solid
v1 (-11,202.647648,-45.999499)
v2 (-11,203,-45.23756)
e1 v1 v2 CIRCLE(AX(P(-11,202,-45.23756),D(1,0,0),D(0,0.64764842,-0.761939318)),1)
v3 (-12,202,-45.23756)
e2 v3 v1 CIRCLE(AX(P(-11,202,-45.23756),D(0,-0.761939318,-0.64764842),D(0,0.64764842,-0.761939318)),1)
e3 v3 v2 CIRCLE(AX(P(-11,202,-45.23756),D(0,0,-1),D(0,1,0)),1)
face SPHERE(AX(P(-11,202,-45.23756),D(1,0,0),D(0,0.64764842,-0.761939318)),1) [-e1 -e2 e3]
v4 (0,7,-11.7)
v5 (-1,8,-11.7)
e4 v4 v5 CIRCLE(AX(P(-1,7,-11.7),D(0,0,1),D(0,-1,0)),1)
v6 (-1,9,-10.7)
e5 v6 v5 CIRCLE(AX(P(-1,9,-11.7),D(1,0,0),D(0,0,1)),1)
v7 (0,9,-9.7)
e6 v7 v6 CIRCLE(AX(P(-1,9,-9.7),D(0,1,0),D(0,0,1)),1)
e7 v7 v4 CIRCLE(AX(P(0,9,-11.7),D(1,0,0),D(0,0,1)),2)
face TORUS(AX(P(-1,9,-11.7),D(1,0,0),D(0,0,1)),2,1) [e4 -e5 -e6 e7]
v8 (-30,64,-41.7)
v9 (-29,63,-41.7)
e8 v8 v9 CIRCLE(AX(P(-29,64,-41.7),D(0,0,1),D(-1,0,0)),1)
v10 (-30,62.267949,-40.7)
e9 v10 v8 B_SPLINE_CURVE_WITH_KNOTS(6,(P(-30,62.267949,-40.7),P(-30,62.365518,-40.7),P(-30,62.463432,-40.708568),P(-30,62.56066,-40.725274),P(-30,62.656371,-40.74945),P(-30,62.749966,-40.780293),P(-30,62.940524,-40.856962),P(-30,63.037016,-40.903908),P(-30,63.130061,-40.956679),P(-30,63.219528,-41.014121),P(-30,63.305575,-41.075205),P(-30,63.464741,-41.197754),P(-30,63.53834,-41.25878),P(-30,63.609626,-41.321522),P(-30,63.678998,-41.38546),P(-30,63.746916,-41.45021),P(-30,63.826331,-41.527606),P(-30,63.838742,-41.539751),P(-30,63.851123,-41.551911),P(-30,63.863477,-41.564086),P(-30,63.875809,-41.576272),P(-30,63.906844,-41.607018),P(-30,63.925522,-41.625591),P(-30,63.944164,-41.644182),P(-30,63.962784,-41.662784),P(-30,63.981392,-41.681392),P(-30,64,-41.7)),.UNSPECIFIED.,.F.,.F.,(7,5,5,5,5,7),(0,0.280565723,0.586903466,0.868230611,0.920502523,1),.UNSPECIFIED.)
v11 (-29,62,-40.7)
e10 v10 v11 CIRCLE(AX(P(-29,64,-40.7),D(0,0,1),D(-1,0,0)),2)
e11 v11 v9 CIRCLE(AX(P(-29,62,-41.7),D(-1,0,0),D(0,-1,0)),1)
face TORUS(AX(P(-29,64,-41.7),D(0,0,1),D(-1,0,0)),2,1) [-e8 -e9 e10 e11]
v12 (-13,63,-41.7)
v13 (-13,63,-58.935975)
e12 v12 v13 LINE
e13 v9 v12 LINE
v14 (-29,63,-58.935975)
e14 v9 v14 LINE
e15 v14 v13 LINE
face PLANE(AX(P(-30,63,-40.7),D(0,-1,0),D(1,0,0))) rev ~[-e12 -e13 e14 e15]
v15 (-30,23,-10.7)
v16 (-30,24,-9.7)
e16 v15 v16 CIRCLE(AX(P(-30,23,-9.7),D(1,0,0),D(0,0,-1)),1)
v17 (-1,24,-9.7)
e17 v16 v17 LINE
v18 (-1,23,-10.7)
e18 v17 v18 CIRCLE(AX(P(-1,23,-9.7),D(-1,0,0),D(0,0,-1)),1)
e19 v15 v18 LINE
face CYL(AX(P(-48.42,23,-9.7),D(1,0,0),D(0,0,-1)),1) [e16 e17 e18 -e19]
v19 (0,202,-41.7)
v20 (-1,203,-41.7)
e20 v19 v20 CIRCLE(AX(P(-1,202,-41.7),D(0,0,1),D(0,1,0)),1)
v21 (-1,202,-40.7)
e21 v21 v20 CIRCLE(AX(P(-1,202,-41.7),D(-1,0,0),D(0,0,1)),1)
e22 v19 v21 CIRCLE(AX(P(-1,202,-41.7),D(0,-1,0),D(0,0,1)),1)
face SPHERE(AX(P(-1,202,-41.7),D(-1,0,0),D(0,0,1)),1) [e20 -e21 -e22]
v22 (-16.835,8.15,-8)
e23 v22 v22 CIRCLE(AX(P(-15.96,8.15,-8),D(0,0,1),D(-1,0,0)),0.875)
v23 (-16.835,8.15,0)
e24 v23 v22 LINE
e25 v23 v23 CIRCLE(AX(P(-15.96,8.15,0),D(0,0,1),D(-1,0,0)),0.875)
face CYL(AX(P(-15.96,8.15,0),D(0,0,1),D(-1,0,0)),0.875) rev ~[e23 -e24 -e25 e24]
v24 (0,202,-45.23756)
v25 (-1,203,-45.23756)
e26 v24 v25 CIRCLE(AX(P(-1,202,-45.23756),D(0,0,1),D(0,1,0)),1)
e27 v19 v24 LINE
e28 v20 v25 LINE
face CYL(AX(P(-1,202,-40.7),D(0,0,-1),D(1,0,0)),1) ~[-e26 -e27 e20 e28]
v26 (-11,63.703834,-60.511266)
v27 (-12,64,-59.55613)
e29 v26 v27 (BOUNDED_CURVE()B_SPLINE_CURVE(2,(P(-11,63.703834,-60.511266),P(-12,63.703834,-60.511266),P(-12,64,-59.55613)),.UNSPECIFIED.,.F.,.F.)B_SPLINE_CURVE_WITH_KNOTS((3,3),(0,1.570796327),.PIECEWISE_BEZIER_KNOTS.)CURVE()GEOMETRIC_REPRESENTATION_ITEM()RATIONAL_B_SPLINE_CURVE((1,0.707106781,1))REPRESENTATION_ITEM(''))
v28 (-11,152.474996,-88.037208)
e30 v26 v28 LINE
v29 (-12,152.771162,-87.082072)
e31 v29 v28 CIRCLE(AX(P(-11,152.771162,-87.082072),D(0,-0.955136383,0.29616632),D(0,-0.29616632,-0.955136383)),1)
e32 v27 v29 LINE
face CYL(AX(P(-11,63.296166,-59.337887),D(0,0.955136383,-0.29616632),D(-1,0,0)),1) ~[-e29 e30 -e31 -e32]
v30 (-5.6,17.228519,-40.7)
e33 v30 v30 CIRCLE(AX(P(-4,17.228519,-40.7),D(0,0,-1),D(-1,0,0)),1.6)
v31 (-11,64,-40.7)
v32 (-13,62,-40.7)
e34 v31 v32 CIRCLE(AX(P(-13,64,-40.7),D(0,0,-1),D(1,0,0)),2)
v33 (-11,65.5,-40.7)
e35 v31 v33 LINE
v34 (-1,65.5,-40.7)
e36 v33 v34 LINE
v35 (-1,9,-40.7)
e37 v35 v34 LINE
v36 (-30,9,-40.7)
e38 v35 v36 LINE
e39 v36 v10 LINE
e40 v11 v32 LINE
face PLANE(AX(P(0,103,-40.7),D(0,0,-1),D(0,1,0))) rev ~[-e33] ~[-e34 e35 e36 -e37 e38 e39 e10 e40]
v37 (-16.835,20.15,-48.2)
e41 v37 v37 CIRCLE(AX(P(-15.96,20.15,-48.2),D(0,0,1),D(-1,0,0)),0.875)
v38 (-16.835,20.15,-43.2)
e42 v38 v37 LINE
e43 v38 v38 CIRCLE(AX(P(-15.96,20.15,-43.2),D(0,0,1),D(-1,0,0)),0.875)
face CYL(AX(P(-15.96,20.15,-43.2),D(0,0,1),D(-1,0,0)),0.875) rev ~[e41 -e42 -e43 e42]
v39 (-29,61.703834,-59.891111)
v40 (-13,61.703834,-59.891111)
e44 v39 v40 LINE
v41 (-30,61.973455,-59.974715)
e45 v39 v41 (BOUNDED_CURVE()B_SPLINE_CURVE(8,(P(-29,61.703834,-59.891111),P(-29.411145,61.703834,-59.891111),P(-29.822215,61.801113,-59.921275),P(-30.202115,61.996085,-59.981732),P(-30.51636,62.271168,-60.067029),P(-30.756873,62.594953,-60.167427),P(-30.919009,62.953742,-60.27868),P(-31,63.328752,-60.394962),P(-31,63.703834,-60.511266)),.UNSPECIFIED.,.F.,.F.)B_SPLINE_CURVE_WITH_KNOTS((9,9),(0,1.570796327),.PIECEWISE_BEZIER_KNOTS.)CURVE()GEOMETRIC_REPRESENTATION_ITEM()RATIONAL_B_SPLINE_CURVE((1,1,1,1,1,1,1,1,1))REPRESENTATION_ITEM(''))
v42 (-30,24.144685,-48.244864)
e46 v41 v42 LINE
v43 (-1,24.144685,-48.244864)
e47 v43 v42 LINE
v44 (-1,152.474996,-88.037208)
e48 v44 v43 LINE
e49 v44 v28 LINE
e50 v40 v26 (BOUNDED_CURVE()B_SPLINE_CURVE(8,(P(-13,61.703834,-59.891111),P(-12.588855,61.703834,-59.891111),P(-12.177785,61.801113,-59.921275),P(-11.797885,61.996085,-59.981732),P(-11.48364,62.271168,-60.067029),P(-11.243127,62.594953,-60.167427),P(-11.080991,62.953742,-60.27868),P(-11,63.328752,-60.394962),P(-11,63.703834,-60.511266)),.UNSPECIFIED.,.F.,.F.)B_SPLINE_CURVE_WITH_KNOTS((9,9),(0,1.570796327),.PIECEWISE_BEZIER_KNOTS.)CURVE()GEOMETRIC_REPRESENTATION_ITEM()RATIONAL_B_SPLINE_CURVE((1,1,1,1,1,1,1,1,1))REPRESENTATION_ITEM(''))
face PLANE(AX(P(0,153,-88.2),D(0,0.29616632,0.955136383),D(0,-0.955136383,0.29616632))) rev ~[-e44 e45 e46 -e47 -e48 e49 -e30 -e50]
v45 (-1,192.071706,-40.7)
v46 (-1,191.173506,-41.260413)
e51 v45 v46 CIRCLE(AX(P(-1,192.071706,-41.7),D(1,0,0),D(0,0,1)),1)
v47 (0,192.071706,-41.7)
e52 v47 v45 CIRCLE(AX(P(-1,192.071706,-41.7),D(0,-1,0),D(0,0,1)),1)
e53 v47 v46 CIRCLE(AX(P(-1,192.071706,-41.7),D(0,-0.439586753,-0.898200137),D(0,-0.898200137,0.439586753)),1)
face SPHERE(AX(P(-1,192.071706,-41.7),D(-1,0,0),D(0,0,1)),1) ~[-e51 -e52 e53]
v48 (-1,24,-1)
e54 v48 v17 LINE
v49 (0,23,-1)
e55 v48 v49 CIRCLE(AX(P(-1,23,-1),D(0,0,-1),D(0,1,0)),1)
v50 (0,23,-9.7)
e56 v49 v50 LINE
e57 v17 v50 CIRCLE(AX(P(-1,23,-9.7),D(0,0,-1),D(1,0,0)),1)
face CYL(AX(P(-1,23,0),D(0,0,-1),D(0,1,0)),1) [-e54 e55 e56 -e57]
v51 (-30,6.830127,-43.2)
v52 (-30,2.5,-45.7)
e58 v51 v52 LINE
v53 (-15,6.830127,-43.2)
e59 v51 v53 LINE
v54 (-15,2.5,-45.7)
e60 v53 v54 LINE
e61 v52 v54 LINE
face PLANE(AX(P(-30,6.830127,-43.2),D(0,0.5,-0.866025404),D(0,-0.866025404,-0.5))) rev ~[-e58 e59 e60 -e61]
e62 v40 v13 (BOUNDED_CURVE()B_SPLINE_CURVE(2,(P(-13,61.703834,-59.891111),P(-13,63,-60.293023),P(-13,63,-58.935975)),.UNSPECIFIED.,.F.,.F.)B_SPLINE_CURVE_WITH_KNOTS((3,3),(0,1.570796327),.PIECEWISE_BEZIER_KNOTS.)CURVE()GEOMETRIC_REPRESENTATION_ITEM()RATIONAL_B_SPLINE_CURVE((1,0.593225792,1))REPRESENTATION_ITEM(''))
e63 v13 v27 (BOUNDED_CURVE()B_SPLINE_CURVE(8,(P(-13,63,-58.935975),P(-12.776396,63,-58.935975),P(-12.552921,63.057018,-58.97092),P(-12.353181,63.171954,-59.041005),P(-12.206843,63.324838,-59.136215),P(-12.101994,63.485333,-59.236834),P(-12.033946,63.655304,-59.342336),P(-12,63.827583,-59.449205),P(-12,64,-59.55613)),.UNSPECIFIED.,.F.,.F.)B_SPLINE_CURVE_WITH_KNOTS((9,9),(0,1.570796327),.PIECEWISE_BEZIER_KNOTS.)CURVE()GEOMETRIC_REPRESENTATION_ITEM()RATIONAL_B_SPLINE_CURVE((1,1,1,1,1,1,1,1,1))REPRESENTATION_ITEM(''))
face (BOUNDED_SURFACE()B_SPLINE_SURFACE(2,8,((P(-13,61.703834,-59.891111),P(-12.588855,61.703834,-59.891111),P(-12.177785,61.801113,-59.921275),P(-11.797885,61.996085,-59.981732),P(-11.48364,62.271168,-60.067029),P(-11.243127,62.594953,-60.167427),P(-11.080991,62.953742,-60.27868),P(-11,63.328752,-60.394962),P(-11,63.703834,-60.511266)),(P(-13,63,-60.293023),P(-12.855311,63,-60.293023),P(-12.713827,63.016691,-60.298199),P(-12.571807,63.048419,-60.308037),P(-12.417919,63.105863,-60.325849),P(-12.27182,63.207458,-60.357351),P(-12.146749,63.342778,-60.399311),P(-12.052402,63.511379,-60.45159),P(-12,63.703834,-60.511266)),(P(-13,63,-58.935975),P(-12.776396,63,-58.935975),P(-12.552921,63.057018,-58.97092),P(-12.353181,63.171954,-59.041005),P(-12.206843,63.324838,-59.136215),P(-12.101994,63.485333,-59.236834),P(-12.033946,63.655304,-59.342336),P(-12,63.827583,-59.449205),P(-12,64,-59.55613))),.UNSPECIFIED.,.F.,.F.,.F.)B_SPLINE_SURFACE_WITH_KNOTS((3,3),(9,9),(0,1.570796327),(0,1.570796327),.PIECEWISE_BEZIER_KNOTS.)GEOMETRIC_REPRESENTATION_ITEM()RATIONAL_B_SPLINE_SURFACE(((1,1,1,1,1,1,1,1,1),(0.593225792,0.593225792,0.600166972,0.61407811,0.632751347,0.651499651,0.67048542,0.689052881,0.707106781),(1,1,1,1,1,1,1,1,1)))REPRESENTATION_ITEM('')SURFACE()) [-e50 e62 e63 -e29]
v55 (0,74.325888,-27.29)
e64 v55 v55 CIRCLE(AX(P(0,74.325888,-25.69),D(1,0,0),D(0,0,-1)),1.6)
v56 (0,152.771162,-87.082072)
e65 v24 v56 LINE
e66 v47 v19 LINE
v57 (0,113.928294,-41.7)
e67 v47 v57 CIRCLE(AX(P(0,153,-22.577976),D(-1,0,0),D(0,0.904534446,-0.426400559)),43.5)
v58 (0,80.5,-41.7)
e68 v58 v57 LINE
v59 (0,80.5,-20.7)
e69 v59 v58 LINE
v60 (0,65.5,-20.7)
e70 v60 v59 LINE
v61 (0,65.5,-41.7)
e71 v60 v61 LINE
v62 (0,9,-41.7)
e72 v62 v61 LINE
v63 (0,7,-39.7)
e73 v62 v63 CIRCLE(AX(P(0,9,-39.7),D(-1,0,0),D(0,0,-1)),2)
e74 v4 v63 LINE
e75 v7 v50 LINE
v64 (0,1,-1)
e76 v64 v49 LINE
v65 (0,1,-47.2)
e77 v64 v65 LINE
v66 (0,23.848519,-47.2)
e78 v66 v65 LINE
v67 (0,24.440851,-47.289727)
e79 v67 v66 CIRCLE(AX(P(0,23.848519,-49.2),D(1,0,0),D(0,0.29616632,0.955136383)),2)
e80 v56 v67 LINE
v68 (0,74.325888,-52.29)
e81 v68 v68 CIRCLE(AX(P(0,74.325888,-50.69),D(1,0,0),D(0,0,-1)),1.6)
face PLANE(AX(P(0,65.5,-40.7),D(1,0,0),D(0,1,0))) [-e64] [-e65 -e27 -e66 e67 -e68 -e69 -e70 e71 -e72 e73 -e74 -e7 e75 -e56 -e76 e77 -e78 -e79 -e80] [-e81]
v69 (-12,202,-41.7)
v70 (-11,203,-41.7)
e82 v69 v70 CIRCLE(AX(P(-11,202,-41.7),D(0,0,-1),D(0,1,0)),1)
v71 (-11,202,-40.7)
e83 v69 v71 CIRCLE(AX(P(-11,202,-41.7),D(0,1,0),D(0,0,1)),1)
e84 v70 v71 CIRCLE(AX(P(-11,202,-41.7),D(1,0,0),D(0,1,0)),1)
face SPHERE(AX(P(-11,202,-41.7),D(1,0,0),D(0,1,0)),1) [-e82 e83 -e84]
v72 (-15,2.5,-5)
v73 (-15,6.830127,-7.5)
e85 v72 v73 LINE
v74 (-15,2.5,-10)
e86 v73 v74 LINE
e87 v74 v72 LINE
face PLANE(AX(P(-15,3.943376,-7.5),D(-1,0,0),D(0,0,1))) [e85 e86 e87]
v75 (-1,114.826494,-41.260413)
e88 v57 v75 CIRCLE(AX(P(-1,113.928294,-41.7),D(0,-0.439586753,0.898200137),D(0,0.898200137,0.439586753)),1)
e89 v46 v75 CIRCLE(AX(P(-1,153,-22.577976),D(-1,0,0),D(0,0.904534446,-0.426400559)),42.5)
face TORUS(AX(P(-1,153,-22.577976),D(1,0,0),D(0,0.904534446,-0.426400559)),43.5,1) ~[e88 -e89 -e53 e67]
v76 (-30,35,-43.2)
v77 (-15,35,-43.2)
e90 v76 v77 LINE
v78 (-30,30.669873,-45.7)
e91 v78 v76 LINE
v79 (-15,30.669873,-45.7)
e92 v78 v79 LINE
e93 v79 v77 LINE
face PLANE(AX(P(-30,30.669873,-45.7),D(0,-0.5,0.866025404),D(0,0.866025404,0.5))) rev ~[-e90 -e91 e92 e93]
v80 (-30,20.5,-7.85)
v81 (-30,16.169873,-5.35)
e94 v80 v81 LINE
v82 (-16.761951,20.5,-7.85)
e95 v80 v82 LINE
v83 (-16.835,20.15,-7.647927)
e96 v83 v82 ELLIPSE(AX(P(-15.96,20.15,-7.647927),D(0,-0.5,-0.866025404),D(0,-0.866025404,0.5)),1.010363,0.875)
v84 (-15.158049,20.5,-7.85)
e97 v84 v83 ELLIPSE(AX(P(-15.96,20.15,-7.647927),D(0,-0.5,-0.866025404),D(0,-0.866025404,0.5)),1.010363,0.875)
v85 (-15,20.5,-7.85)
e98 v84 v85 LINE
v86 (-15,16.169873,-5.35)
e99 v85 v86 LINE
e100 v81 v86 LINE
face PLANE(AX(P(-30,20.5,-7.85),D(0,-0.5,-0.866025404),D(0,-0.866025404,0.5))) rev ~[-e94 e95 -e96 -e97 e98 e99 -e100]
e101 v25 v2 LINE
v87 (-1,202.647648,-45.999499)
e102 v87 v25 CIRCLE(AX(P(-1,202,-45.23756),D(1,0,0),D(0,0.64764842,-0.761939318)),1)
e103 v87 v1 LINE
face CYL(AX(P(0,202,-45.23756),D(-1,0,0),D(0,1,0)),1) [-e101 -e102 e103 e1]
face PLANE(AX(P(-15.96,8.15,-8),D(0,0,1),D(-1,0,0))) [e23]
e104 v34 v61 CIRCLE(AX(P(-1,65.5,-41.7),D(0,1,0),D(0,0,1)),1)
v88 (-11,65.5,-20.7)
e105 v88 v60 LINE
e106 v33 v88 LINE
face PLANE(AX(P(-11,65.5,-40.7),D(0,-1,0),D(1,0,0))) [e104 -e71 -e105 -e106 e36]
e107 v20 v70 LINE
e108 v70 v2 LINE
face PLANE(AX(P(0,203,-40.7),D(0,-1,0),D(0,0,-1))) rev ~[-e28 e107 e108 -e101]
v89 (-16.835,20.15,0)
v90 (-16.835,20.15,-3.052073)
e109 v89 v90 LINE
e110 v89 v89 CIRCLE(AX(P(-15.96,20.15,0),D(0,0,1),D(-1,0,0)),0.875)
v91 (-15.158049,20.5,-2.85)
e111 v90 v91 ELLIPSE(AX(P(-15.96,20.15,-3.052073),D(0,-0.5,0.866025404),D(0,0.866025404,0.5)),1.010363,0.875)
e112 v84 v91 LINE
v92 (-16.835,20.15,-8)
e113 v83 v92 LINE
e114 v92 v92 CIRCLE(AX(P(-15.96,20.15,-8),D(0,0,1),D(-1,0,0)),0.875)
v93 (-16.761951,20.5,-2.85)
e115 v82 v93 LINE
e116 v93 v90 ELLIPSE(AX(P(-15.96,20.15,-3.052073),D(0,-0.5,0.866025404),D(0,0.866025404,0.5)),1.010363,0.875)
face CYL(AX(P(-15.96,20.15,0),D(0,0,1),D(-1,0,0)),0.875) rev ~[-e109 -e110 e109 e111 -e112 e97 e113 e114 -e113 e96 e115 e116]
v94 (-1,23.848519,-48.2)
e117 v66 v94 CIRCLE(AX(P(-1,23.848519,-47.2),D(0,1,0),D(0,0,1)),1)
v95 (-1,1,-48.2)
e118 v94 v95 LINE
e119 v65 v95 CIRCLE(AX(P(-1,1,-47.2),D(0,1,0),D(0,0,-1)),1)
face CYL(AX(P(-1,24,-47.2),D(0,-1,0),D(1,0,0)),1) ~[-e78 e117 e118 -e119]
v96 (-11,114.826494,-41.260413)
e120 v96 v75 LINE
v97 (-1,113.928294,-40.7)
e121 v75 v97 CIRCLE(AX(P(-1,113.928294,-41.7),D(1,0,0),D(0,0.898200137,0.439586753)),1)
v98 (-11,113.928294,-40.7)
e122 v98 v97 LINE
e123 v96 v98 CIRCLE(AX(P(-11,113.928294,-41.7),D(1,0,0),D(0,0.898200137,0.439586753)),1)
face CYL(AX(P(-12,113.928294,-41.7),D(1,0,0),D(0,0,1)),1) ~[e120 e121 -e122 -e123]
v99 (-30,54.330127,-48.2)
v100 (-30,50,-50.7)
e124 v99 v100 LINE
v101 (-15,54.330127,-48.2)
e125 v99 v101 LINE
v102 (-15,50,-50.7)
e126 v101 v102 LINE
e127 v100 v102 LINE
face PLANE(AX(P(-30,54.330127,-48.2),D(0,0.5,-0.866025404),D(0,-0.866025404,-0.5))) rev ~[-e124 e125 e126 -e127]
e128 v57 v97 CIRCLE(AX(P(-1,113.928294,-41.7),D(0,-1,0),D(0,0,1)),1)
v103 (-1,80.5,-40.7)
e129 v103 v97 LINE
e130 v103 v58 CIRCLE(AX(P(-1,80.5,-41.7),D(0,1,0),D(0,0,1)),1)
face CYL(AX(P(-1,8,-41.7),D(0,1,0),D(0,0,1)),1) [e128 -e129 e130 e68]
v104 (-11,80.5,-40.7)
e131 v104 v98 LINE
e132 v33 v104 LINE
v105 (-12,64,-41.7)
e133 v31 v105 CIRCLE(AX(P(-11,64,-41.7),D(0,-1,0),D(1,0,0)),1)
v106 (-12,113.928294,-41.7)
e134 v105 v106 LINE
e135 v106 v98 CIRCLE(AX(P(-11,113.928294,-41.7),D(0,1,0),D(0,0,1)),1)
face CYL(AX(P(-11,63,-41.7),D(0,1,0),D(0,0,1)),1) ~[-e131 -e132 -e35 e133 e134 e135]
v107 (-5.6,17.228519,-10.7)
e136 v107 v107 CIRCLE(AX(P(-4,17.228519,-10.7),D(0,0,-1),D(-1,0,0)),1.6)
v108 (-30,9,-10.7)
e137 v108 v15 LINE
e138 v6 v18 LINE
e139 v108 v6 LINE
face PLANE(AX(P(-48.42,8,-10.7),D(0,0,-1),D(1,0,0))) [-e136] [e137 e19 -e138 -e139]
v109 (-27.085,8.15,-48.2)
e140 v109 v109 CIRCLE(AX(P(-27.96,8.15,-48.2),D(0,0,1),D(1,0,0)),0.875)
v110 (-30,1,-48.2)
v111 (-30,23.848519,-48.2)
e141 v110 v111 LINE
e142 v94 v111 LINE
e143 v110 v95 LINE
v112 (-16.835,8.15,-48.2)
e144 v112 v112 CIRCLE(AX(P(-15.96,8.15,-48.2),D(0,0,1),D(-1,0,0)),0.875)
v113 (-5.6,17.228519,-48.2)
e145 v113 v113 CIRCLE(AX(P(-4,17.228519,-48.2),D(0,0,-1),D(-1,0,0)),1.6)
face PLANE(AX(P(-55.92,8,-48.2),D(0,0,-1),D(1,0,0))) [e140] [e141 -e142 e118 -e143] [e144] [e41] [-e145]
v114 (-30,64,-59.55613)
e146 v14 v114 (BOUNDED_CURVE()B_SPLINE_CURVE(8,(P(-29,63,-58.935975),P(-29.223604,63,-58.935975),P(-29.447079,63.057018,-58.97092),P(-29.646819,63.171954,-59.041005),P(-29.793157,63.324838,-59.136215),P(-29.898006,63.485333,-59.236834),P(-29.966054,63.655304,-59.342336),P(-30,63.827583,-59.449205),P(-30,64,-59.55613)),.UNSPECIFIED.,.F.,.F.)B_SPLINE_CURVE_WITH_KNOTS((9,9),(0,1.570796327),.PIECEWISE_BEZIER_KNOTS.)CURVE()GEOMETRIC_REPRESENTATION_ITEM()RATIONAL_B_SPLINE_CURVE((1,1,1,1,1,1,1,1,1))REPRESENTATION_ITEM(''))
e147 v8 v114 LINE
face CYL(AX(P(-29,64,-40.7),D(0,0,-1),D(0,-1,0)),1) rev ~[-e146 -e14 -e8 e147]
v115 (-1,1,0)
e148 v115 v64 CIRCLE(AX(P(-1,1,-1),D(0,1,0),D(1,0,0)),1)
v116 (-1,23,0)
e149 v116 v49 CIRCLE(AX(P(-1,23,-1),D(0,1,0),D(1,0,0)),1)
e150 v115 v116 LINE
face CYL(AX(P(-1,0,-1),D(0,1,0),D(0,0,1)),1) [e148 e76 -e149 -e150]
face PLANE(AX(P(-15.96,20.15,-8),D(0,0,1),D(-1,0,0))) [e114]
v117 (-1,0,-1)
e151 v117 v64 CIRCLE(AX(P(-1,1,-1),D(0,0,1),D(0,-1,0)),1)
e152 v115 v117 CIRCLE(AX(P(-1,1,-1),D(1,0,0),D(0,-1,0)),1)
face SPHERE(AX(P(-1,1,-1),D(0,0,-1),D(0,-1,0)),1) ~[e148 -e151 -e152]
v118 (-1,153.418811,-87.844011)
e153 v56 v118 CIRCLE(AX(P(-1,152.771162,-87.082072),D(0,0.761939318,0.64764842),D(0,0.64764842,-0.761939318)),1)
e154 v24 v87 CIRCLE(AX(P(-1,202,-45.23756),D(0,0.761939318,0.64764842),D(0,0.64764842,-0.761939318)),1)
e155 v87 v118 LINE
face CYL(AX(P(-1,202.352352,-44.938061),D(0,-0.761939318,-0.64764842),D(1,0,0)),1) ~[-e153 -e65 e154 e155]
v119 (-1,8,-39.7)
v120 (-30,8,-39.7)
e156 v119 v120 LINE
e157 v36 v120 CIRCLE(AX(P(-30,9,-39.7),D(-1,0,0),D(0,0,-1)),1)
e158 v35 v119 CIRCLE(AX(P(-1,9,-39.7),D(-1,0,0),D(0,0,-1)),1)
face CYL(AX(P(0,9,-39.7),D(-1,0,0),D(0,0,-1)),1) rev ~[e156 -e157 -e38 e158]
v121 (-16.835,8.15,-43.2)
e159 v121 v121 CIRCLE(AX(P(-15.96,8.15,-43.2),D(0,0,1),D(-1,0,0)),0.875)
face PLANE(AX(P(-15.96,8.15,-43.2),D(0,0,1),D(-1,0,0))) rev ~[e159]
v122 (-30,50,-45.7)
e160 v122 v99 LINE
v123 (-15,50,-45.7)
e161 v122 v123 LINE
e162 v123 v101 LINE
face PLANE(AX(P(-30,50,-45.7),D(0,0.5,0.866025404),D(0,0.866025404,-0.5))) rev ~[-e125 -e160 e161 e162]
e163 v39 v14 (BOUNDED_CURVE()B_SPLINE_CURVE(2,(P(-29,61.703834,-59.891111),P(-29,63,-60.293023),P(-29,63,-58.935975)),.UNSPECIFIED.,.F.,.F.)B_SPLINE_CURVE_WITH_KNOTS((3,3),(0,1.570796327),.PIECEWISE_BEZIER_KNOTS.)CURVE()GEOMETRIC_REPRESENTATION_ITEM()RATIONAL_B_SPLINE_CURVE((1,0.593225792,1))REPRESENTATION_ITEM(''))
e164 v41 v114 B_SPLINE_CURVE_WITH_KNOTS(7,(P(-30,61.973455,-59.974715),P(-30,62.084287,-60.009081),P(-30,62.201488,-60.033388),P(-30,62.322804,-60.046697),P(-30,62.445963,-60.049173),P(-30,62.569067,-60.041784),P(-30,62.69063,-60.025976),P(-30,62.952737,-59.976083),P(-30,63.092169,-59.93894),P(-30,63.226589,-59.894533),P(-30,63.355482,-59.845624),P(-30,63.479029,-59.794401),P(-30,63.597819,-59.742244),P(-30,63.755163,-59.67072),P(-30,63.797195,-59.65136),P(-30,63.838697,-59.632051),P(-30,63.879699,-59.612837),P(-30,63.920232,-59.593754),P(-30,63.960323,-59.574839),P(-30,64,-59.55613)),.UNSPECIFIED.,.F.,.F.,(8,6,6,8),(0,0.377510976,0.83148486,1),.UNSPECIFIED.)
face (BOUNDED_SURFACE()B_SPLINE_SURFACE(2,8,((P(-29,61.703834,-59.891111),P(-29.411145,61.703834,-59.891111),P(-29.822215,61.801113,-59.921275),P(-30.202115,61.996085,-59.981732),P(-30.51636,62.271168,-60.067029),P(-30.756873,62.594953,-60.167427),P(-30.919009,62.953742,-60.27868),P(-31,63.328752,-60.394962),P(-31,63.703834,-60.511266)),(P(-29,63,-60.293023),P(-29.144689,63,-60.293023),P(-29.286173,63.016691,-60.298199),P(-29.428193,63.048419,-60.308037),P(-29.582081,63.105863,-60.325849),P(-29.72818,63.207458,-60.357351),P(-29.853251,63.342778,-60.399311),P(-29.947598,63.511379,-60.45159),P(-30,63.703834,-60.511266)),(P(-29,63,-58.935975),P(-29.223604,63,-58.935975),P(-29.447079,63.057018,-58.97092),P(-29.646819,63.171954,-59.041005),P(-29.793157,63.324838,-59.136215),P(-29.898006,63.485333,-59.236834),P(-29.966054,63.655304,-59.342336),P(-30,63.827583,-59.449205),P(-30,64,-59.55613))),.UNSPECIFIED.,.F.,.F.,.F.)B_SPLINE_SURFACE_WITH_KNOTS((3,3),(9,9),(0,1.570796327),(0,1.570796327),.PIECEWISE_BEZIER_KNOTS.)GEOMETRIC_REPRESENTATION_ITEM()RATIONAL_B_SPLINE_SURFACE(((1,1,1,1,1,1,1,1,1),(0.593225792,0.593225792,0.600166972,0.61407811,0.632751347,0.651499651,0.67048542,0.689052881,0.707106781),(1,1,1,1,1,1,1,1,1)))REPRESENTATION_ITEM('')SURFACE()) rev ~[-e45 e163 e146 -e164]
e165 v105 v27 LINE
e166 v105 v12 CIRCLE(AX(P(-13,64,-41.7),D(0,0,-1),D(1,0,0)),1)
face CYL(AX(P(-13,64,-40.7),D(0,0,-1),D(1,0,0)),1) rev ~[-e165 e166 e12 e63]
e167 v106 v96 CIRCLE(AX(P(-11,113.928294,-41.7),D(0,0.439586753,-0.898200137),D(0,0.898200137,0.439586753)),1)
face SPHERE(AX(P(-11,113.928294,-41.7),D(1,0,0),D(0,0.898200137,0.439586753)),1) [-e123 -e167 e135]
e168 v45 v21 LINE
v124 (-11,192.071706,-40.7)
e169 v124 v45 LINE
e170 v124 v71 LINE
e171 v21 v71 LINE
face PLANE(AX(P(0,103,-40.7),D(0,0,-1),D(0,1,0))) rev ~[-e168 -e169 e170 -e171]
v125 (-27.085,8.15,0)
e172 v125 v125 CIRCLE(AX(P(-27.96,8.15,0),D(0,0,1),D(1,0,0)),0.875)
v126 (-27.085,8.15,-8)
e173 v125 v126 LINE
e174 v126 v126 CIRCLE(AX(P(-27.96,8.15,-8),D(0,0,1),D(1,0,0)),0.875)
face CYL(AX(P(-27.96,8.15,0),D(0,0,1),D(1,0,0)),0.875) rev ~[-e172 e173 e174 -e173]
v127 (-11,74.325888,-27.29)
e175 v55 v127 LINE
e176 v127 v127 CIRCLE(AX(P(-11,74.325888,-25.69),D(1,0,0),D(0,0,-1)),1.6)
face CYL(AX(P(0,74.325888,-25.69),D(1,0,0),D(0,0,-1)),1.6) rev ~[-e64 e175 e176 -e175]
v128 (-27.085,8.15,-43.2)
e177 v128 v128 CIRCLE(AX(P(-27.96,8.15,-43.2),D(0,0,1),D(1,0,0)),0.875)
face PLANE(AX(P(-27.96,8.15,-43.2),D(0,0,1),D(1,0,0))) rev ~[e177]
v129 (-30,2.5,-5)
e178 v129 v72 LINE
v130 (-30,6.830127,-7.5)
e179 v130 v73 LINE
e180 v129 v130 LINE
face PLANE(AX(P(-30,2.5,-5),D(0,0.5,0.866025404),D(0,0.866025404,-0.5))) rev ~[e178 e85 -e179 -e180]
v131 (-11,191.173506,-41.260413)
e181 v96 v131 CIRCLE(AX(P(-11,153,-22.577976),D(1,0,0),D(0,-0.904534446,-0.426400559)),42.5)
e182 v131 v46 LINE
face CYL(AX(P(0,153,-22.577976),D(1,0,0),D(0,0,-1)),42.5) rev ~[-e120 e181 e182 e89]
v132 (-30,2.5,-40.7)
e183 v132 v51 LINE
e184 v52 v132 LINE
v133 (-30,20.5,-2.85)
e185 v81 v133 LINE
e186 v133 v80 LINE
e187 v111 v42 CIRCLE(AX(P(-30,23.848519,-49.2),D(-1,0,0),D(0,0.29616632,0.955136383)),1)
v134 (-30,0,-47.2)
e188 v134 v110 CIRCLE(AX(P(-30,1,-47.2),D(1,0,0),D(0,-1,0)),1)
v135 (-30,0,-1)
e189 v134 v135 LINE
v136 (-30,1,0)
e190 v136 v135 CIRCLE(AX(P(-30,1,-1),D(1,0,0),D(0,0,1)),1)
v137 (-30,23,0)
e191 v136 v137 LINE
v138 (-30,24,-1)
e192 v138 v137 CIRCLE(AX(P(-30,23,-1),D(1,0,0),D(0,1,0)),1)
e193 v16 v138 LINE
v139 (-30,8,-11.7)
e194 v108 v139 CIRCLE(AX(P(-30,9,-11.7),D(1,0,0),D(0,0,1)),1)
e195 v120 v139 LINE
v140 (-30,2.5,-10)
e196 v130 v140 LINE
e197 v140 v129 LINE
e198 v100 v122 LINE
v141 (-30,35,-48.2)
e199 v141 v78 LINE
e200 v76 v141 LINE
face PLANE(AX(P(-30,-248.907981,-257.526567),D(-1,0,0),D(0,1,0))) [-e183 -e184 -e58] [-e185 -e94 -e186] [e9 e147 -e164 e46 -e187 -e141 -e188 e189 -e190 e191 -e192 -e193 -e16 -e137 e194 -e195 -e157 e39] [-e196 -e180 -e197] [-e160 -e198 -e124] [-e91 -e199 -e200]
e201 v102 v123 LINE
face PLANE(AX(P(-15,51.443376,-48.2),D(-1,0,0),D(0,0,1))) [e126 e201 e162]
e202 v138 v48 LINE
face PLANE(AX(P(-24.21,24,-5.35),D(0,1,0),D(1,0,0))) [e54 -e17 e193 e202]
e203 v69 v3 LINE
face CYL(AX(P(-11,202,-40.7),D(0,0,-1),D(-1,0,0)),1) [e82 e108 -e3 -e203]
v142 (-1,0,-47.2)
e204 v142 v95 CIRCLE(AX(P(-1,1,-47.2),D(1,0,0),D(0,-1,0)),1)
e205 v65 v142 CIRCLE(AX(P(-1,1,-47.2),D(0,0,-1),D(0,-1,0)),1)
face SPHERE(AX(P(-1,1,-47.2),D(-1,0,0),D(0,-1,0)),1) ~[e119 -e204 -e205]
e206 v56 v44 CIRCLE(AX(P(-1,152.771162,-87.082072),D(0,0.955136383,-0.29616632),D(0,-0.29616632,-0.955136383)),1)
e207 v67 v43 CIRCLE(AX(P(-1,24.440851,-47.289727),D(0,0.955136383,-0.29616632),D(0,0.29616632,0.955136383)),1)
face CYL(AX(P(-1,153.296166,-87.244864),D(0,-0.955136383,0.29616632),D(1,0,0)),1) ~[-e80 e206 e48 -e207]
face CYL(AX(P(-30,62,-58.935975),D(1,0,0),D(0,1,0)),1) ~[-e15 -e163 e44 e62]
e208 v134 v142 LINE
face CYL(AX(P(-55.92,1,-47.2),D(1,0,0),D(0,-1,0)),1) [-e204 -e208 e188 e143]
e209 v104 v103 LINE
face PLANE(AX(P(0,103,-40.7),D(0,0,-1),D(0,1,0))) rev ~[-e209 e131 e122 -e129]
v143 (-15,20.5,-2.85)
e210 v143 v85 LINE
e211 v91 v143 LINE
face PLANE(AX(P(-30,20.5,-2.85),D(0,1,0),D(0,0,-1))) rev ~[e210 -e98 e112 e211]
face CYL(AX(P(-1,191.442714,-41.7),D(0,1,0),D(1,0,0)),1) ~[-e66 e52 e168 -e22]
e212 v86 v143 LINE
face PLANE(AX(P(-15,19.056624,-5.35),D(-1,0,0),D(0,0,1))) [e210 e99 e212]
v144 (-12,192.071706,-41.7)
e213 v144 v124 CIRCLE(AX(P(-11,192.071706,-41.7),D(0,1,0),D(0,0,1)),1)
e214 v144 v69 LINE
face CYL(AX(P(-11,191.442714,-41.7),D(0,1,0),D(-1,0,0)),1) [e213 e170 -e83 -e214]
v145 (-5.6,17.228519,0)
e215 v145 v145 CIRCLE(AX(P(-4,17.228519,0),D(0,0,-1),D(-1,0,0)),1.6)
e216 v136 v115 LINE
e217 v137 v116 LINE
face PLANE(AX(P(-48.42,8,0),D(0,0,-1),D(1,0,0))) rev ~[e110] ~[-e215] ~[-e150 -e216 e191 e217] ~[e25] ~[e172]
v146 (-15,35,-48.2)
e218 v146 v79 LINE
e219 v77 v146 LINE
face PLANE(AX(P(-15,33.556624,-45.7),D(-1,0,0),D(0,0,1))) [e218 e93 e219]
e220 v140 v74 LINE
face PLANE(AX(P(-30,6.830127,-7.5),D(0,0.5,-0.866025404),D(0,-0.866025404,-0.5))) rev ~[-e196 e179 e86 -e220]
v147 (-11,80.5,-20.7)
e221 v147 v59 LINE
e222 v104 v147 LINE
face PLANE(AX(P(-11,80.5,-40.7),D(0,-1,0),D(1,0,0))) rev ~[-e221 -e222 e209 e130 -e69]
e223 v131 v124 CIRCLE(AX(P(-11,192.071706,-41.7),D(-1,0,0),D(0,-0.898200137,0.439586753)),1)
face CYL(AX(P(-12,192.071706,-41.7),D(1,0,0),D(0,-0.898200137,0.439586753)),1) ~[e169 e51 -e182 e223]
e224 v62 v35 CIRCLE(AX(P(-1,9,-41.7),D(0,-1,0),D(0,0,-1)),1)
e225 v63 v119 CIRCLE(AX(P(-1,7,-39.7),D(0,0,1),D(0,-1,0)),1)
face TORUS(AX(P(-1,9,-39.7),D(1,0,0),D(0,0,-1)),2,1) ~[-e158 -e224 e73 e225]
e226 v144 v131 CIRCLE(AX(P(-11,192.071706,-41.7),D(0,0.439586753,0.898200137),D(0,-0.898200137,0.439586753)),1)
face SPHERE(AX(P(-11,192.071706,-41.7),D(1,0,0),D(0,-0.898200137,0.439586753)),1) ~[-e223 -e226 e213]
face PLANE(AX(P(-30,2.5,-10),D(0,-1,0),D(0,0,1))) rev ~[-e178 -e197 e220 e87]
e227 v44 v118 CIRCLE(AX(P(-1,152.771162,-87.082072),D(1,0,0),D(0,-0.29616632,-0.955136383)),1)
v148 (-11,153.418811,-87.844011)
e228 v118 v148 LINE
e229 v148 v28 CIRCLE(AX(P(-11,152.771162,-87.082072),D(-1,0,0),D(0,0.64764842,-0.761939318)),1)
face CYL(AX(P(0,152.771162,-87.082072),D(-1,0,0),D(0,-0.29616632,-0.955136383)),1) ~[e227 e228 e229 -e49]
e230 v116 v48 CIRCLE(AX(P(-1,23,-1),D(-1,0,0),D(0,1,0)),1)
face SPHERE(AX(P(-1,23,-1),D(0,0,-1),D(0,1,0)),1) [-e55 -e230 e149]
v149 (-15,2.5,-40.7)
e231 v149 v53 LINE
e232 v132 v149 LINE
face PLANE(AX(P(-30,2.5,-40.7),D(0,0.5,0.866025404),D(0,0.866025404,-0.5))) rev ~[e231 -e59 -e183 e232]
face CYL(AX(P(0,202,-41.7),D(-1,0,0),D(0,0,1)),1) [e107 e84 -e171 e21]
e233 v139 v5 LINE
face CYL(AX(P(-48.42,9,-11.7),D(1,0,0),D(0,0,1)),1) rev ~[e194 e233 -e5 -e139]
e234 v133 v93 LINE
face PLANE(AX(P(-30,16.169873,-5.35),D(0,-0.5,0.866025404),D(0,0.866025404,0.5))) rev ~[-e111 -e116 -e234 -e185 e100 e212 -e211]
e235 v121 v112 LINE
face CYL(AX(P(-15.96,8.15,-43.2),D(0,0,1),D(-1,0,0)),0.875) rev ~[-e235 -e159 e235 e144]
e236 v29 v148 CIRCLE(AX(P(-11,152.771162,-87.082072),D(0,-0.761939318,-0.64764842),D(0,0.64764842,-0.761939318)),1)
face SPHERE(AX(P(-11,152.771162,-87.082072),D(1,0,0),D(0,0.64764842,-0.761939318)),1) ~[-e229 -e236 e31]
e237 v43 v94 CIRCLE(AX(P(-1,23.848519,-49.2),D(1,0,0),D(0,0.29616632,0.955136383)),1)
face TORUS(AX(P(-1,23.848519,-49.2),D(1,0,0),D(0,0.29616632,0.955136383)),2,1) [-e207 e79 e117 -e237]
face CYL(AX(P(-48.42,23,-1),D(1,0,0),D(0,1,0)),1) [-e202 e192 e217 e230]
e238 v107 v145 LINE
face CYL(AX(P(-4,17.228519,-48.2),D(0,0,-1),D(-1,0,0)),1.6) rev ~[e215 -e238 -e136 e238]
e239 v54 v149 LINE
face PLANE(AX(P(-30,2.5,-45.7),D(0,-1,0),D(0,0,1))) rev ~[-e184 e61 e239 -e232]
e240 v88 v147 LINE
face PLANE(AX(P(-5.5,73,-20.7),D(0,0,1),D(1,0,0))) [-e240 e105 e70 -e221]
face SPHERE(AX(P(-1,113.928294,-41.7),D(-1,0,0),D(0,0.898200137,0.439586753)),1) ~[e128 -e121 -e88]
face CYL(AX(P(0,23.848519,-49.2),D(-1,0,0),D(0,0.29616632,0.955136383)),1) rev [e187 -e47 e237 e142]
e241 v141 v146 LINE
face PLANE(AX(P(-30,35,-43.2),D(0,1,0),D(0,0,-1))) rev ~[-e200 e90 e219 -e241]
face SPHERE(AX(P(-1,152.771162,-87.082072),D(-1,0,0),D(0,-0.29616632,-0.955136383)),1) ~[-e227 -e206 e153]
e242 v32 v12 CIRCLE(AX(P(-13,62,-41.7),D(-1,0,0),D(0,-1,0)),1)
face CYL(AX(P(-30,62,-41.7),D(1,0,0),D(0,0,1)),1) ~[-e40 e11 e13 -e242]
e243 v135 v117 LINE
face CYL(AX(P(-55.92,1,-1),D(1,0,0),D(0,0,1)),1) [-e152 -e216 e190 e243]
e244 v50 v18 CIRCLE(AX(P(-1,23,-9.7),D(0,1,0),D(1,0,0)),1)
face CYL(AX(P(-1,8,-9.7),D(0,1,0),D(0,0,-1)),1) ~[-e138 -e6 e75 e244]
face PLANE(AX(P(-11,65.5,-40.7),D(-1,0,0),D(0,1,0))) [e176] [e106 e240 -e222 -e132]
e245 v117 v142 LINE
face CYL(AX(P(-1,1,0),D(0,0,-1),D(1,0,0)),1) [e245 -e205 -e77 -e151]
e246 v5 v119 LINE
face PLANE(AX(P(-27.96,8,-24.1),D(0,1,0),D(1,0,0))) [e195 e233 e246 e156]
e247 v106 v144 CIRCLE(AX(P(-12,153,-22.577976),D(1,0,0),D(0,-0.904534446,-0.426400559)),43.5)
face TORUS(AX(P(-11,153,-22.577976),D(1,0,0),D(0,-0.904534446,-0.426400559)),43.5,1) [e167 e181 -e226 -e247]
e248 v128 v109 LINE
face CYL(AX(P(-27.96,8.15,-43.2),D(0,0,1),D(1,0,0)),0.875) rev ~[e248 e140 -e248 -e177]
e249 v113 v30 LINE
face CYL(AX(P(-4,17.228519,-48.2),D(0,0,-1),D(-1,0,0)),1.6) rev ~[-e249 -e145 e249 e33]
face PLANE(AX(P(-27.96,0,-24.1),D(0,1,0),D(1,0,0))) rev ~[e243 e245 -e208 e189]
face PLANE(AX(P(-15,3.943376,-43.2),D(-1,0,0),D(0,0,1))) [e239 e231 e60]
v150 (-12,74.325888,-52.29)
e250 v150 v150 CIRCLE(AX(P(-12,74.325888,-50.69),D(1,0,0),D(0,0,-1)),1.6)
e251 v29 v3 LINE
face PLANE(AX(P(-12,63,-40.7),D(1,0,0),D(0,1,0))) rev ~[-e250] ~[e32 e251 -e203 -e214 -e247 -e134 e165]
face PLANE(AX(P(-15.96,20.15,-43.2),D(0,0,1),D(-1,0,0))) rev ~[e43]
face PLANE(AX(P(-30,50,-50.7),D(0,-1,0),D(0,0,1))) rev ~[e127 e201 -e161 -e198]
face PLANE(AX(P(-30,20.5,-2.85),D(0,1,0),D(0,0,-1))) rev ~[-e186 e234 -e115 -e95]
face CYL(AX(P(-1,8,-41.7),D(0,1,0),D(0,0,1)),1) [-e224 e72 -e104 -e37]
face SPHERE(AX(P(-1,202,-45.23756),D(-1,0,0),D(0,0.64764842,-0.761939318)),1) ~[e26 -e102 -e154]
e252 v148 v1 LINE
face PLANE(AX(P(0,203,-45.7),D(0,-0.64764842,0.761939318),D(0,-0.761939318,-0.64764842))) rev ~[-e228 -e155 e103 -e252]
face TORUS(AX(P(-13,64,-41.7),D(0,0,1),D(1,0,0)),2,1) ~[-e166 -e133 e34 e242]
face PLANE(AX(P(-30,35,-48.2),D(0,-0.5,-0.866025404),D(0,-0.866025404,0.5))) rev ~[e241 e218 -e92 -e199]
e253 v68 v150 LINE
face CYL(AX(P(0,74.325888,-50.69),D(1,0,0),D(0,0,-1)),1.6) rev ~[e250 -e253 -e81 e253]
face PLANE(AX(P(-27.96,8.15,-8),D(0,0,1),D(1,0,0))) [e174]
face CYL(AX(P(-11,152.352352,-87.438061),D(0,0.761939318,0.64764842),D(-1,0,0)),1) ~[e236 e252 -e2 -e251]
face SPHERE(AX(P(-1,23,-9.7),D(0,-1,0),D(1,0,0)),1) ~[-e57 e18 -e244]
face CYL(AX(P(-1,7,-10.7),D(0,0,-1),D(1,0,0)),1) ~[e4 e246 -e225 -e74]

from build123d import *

# Parameters (mm, degrees)
SKETCH3_W                       = 55.92
SKETCH3_H                       = 48.2
BOSS_EXTRUDE1_DEPTH             = 8
BOSS_EXTRUDE2_DEPTH             = 95
SKETCH5_R                       = 2.75
SKETCH5_W                       = 40.7
SKETCH5_H                       = 64.8
CUT_EXTRUDE1_DEPTH              = 124.599095466
BOSS_EXTRUDE4_DEPTH             = 55.92
SKETCH9_R                       = 42.5
CUT_EXTRUDE2_DEPTH              = 229.287727222
SKETCH10_W                      = 18
SKETCH10_H                      = 140
SKETCH10_W_2                    = 13.92
SKETCH10_H_2                    = 100
CUT_EXTRUDE3_DEPTH              = 216.852487593
SKETCH11_W                      = 48.42
SKETCH11_H                      = 10.7
BOSS_EXTRUDE5_DEPTH             = 16
SKETCH12_R                      = 0.875
CUT_EXTRUDE7_DEPTH              = 8
CUT_EXTRUDE8_START              = -43.2
SKETCH12_3_R                    = 0.875
CUT_EXTRUDE8_DEPTH              = 5
FILLET3_R                       = 1
CUT_EXTRUDE9_REACH              = 218.008
SKETCH14_R                      = 1.6
SKETCH15_W                      = 11
SKETCH15_H                      = 15
BOSS_EXTRUDE6_DEPTH             = 20
BOSS_EXTRUDE6_DIRECTION_2_REACH = 217.827
CUT_EXTRUDE10_REACH             = 230.242
SKETCH16_R                      = 1.6
CUT_EXTRUDE13_DEPTH             = 216.826567209
CUT_EXTRUDE13_DEPTH_BACK        = 216.826567209
SKETCH17_W                      = 258.17245833
SKETCH17_H                      = 778.313168381
CUT_EXTRUDE14_DEPTH             = 15


with BuildPart() as part:
    # Sketch3 → Boss-Extrude1 (new body)
    with BuildSketch(Plane(origin=(0, 0, 0), x_dir=(1, 0, 0), z_dir=(0, 1, 0))):
        with Locations((-27.96, 24.1)):
            Rectangle(SKETCH3_W, SKETCH3_H)
    extrude(amount=BOSS_EXTRUDE1_DEPTH)

    # Sketch4 → Boss-Extrude2 (add)
    with BuildSketch(Plane(origin=(0, 8, 0), x_dir=(1, 0, 0), z_dir=(0, 1, 0))):
        Polygon((-55.92, 0), (-55.92, 48.2), (0, 48.2), (0, 40.7), (-48.42, 40.7), (-48.42, 0), align=None)
    extrude(amount=BOSS_EXTRUDE2_DEPTH)

    # Sketch5 → Cut-Extrude1 (cut, through all)
    with BuildSketch(Plane(origin=(-48.42, 0, 0), x_dir=(0, 0, -1), z_dir=(1, 0, 0))):
        with Locations((17.2, 12.5)):
            Circle(SKETCH5_R)
        with Locations((34.2, 12.5)):
            Circle(SKETCH5_R)
        with Locations(Location((34.2, 87.5, 0), (0, 0, 180))):
            Circle(SKETCH5_R)
        with Locations(Location((17.2, 87.5, 0), (0, 0, 180))):
            Circle(SKETCH5_R)
        with Locations((20.35, 50)):
            Rectangle(SKETCH5_W, SKETCH5_H)
    extrude(amount=-CUT_EXTRUDE1_DEPTH, mode=Mode.SUBTRACT)

    # Sketch8 → Boss-Extrude4 (add)
    with BuildSketch(Plane(origin=(0, 0, 0), x_dir=(0, 0, -1), z_dir=(1, 0, 0))):
        Polygon((40.7, 103), (40.7, 203), (45.7, 203), (88.2, 153), (48.2, 24), (48.2, 103), align=None)
    extrude(amount=-BOSS_EXTRUDE4_DEPTH)

    # Sketch9 → Cut-Extrude2 (cut, through all)
    with BuildSketch(Plane(origin=(0, 0, 0), x_dir=(0, 0, -1), z_dir=(1, 0, 0))):
        with Locations((22.577976258, 153)):
            Circle(SKETCH9_R)
    extrude(amount=-CUT_EXTRUDE2_DEPTH, mode=Mode.SUBTRACT)

    # Sketch10 → Cut-Extrude3 (cut, through all)
    with BuildSketch(Plane.XY.offset(-40.7)):
        with Locations((-21, 133)):
            Rectangle(SKETCH10_W, SKETCH10_H)
        with Locations((-48.96, 153)):
            Rectangle(SKETCH10_W_2, SKETCH10_H_2)
    extrude(amount=-CUT_EXTRUDE3_DEPTH, mode=Mode.SUBTRACT)

    # Sketch11 → Boss-Extrude5 (add)
    with BuildSketch(Plane(origin=(0, 8, 0), x_dir=(1, 0, 0), z_dir=(0, 1, 0))):
        with Locations((-24.21, 5.35)):
            Rectangle(SKETCH11_W, SKETCH11_H)
    extrude(amount=BOSS_EXTRUDE5_DEPTH)

    # Sketch12 → Cut-Extrude7 (cut)
    with BuildSketch(Plane.XY):
        with Locations((-39.96, 8.15)):
            Circle(SKETCH12_R)
        with Locations((-39.96, 20.15)):
            Circle(SKETCH12_R)
        with Locations((-27.96, 8.15)):
            Circle(SKETCH12_R)
        with Locations(Location((-15.96, 8.15, 0), (0, 0, 180))):
            Circle(SKETCH12_R)
        with Locations(Location((-15.96, 20.15, 0), (0, 0, 180))):
            Circle(SKETCH12_R)
    extrude(amount=-CUT_EXTRUDE7_DEPTH, mode=Mode.SUBTRACT)

    # Sketch12<3> → Cut-Extrude8 (cut)
    with BuildSketch(Plane.XY.offset(CUT_EXTRUDE8_START)):
        with Locations((-39.96, 8.15)):
            Circle(SKETCH12_3_R)
        with Locations((-39.96, 20.15)):
            Circle(SKETCH12_3_R)
        with Locations((-27.96, 8.15)):
            Circle(SKETCH12_3_R)
        with Locations(Location((-15.96, 8.15, 0), (0, 0, 180))):
            Circle(SKETCH12_3_R)
        with Locations(Location((-15.96, 20.15, 0), (0, 0, 180))):
            Circle(SKETCH12_3_R)
    extrude(amount=-CUT_EXTRUDE8_DEPTH, mode=Mode.SUBTRACT)

    # Fillet3
    fillet3_edges = [part.edges().sort_by_distance(p)[0] for p in [
        (-36, 191.442713945, -40.7),
        (-6, 191.442713945, -40.7),
        (-42, 153, -65.077976258),
        (-12, 153, -65.077976258),
        (-30, 153, -65.077976258),
        (-36, 153, -88.2),
        (-6, 153, -88.2),
        (-48.96, 103, -72.696124031),
        (-21, 63, -60.293023256),
        (-36, 203, -45.7),
        (-6, 203, -45.7),
        (-36, 203, -40.7),
        (-6, 203, -40.7),
        (-30, 178, -66.95),
        (-30, 108, -74.246511628),
        (-30, 63, -50.496511628),
        (-12, 178, -66.95),
        (-12, 108, -74.246511628),
        (-12, 203, -43.2),
        (-12, 88.778643027, -40.7),
        (-30, 88.778643027, -40.7),
        (-21, 63, -40.7),
        (-30, 197.221356973, -40.7),
        (-12, 197.221356973, -40.7),
        (-30, 203, -43.2),
        (-12, 63, -50.496511628),
        (-42, 178, -66.95),
        (-42, 128, -80.448062016),
        (-42, 203, -43.2),
        (-42, 197.221356973, -40.7),
        (-45.21, 103, -40.7),
        (-42, 108.778643027, -40.7),
        (-42, 103, -56.698062016),
        (-48.42, 17.6, -25.7),
        (-48.42, 8, -25.7),
        (0, 8, -25.7),
        (-48.42, 20.8, -10.7),
        (-24.21, 8, -10.7),
        (-48.42, 92.7, 0),
        (0, 16, -10.7),
        (-48.42, 12.8, -10.7),
        (-48.42, 20.8, 0),
        (-24.21, 8, -40.7),
        (0, 24, -5.35),
        (-24.21, 24, -10.7),
        (-48.42, 24, -5.35),
        (-24.21, 24, 0),
        (-48.42, 92.7, -40.7),
        (0, 197.221356973, -40.7),
        (-52.17, 103, 0),
        (-48.42, 103, -20.35),
        (-48.42, 12.8, -40.7),
        (-55.92, 8.8, 0),
        (-27.96, 0, -48.2),
        (-52.17, 17.6, 0),
        (-55.92, 82.4, -20.35),
        (-52.17, 82.4, 0),
        (-55.92, 50, -40.7),
        (-52.17, 82.4, -40.7),
        (-55.92, 17.6, -20.35),
        (-52.17, 17.6, -40.7),
        (-48.42, 17.6, -5.35),
        (0, 0, -24.1),
        (-48.42, 82.4, -20.35),
        (-27.96, 0, 0),
        (-55.92, 0, -24.1),
        (-55.92, 103, -36.348062016),
        (-55.92, 12, -48.2),
        (0, 12, -48.2),
        (-55.92, 63.5, -60.448062016),
        (-27.96, 24, -48.2),
        (0, 88.5, -68.2),
        (0, 178, -66.95),
        (0, 203, -43.2),
        (0, 12, 0),
        (-55.92, 92.7, 0),
        (0, 61.278643027, -40.7),
        (-6, 114.557286055, -40.7),
        (0, 153, -65.077976258),
        (-36, 114.557286055, -40.7),
    ]]
    fillet(fillet3_edges, radius=FILLET3_R)

    # Cut-Extrude9: up to this face of the body (flat: up to its plane)
    cut_extrude9_end = Plane(part.part.faces().sort_by_distance((-26.9866887, 11.661518577, 0))[0])
    # Sketch14 → Cut-Extrude9 (cut, up to the picked face)
    with BuildSketch(Plane(origin=(0, 0, -48.2), x_dir=(-1, 0, 0), z_dir=(0, 0, -1)), mode=Mode.PRIVATE) as cut_extrude9_sk1:
        with Locations((4, 17.228518844)):
            Circle(SKETCH14_R)
    cut_extrude9_tool1 = split(extrude(cut_extrude9_sk1.sketch, amount=-CUT_EXTRUDE9_REACH, mode=Mode.PRIVATE), bisect_by=cut_extrude9_end, keep=Keep.BOTH, mode=Mode.PRIVATE)
    add(cut_extrude9_tool1.solids().sort_by(Axis((-4, 17.228519, -48.2), (0, 0, 1)))[0], mode=Mode.SUBTRACT)

    # Sketch15 → Boss-Extrude6 (add)
    with BuildSketch(Plane.XY.offset(-40.7)):
        with Locations((-5.5, 73)):
            Rectangle(SKETCH15_W, SKETCH15_H)
    extrude(amount=BOSS_EXTRUDE6_DEPTH)

    # Sketch15 → Boss-Extrude6 direction 2 (add, up to next)
    with BuildSketch(Plane.XY.offset(-40.7), mode=Mode.PRIVATE) as boss_extrude6_direction_2_sk1:
        with Locations((-5.5, 73)):
            Rectangle(SKETCH15_W, SKETCH15_H)
    boss_extrude6_direction_2_tool1 = extrude(boss_extrude6_direction_2_sk1.sketch, amount=-BOSS_EXTRUDE6_DIRECTION_2_REACH, mode=Mode.PRIVATE) - part.part
    add(boss_extrude6_direction_2_tool1.solids().sort_by_distance((-5.5, 73, -40.7))[0])

    # Sketch16 → Cut-Extrude10 (cut, up to next)
    with BuildSketch(Plane(origin=(0, 0, 0), x_dir=(0, 0, -1), z_dir=(1, 0, 0)), mode=Mode.PRIVATE) as cut_extrude10_sk1:
        with Locations((25.69, 74.3258878)):
            Circle(SKETCH16_R)
    cut_extrude10_tool1 = extrude(cut_extrude10_sk1.sketch, amount=-CUT_EXTRUDE10_REACH, mode=Mode.PRIVATE) & part.part
    # Sketch16 → Cut-Extrude10 (cut, up to next)
    with BuildSketch(Plane(origin=(0, 0, 0), x_dir=(0, 0, -1), z_dir=(1, 0, 0)), mode=Mode.PRIVATE) as cut_extrude10_sk2:
        with Locations((50.69, 74.3258878)):
            Circle(SKETCH16_R)
    cut_extrude10_tool2 = extrude(cut_extrude10_sk2.sketch, amount=-CUT_EXTRUDE10_REACH, mode=Mode.PRIVATE) & part.part
    add(cut_extrude10_tool1.solids().sort_by_distance((0, 74.325888, -25.69))[0], mode=Mode.SUBTRACT)
    add(cut_extrude10_tool2.solids().sort_by_distance((0, 74.325888, -50.69))[0], mode=Mode.SUBTRACT)

    # Sketch17 → Cut-Extrude13 (cut, two sides: drawn at the far end of the back side and taken through both)
    with BuildSketch(Plane.XY.offset(-40.7).offset(-CUT_EXTRUDE13_DEPTH_BACK)):
        with Locations((-159.086229165, 140.248603605)):
            Rectangle(SKETCH17_W, SKETCH17_H)
    extrude(amount=CUT_EXTRUDE13_DEPTH + CUT_EXTRUDE13_DEPTH_BACK, mode=Mode.SUBTRACT)

    # Sketch21 → Cut-Extrude14 (cut)
    with BuildSketch(Plane(origin=(-30, 0, 0), x_dir=(0, 0, -1), z_dir=(1, 0, 0))):
        Polygon((45.7, 50), (48.2, 54.330127019), (50.7, 50), align=None)
        Polygon((43.2, 35), (48.2, 35), (45.7, 30.669872981), align=None)
        Polygon((45.7, 2.5), (40.7, 2.5), (43.2, 6.830127019), align=None)
        Polygon((2.85, 20.5), (7.85, 20.5), (5.35, 16.169872981), align=None)
        Polygon((10, 2.5), (5, 2.5), (7.5, 6.830127019), align=None)
    extrude(amount=CUT_EXTRUDE14_DEPTH, mode=Mode.SUBTRACT)


solid = part.part
